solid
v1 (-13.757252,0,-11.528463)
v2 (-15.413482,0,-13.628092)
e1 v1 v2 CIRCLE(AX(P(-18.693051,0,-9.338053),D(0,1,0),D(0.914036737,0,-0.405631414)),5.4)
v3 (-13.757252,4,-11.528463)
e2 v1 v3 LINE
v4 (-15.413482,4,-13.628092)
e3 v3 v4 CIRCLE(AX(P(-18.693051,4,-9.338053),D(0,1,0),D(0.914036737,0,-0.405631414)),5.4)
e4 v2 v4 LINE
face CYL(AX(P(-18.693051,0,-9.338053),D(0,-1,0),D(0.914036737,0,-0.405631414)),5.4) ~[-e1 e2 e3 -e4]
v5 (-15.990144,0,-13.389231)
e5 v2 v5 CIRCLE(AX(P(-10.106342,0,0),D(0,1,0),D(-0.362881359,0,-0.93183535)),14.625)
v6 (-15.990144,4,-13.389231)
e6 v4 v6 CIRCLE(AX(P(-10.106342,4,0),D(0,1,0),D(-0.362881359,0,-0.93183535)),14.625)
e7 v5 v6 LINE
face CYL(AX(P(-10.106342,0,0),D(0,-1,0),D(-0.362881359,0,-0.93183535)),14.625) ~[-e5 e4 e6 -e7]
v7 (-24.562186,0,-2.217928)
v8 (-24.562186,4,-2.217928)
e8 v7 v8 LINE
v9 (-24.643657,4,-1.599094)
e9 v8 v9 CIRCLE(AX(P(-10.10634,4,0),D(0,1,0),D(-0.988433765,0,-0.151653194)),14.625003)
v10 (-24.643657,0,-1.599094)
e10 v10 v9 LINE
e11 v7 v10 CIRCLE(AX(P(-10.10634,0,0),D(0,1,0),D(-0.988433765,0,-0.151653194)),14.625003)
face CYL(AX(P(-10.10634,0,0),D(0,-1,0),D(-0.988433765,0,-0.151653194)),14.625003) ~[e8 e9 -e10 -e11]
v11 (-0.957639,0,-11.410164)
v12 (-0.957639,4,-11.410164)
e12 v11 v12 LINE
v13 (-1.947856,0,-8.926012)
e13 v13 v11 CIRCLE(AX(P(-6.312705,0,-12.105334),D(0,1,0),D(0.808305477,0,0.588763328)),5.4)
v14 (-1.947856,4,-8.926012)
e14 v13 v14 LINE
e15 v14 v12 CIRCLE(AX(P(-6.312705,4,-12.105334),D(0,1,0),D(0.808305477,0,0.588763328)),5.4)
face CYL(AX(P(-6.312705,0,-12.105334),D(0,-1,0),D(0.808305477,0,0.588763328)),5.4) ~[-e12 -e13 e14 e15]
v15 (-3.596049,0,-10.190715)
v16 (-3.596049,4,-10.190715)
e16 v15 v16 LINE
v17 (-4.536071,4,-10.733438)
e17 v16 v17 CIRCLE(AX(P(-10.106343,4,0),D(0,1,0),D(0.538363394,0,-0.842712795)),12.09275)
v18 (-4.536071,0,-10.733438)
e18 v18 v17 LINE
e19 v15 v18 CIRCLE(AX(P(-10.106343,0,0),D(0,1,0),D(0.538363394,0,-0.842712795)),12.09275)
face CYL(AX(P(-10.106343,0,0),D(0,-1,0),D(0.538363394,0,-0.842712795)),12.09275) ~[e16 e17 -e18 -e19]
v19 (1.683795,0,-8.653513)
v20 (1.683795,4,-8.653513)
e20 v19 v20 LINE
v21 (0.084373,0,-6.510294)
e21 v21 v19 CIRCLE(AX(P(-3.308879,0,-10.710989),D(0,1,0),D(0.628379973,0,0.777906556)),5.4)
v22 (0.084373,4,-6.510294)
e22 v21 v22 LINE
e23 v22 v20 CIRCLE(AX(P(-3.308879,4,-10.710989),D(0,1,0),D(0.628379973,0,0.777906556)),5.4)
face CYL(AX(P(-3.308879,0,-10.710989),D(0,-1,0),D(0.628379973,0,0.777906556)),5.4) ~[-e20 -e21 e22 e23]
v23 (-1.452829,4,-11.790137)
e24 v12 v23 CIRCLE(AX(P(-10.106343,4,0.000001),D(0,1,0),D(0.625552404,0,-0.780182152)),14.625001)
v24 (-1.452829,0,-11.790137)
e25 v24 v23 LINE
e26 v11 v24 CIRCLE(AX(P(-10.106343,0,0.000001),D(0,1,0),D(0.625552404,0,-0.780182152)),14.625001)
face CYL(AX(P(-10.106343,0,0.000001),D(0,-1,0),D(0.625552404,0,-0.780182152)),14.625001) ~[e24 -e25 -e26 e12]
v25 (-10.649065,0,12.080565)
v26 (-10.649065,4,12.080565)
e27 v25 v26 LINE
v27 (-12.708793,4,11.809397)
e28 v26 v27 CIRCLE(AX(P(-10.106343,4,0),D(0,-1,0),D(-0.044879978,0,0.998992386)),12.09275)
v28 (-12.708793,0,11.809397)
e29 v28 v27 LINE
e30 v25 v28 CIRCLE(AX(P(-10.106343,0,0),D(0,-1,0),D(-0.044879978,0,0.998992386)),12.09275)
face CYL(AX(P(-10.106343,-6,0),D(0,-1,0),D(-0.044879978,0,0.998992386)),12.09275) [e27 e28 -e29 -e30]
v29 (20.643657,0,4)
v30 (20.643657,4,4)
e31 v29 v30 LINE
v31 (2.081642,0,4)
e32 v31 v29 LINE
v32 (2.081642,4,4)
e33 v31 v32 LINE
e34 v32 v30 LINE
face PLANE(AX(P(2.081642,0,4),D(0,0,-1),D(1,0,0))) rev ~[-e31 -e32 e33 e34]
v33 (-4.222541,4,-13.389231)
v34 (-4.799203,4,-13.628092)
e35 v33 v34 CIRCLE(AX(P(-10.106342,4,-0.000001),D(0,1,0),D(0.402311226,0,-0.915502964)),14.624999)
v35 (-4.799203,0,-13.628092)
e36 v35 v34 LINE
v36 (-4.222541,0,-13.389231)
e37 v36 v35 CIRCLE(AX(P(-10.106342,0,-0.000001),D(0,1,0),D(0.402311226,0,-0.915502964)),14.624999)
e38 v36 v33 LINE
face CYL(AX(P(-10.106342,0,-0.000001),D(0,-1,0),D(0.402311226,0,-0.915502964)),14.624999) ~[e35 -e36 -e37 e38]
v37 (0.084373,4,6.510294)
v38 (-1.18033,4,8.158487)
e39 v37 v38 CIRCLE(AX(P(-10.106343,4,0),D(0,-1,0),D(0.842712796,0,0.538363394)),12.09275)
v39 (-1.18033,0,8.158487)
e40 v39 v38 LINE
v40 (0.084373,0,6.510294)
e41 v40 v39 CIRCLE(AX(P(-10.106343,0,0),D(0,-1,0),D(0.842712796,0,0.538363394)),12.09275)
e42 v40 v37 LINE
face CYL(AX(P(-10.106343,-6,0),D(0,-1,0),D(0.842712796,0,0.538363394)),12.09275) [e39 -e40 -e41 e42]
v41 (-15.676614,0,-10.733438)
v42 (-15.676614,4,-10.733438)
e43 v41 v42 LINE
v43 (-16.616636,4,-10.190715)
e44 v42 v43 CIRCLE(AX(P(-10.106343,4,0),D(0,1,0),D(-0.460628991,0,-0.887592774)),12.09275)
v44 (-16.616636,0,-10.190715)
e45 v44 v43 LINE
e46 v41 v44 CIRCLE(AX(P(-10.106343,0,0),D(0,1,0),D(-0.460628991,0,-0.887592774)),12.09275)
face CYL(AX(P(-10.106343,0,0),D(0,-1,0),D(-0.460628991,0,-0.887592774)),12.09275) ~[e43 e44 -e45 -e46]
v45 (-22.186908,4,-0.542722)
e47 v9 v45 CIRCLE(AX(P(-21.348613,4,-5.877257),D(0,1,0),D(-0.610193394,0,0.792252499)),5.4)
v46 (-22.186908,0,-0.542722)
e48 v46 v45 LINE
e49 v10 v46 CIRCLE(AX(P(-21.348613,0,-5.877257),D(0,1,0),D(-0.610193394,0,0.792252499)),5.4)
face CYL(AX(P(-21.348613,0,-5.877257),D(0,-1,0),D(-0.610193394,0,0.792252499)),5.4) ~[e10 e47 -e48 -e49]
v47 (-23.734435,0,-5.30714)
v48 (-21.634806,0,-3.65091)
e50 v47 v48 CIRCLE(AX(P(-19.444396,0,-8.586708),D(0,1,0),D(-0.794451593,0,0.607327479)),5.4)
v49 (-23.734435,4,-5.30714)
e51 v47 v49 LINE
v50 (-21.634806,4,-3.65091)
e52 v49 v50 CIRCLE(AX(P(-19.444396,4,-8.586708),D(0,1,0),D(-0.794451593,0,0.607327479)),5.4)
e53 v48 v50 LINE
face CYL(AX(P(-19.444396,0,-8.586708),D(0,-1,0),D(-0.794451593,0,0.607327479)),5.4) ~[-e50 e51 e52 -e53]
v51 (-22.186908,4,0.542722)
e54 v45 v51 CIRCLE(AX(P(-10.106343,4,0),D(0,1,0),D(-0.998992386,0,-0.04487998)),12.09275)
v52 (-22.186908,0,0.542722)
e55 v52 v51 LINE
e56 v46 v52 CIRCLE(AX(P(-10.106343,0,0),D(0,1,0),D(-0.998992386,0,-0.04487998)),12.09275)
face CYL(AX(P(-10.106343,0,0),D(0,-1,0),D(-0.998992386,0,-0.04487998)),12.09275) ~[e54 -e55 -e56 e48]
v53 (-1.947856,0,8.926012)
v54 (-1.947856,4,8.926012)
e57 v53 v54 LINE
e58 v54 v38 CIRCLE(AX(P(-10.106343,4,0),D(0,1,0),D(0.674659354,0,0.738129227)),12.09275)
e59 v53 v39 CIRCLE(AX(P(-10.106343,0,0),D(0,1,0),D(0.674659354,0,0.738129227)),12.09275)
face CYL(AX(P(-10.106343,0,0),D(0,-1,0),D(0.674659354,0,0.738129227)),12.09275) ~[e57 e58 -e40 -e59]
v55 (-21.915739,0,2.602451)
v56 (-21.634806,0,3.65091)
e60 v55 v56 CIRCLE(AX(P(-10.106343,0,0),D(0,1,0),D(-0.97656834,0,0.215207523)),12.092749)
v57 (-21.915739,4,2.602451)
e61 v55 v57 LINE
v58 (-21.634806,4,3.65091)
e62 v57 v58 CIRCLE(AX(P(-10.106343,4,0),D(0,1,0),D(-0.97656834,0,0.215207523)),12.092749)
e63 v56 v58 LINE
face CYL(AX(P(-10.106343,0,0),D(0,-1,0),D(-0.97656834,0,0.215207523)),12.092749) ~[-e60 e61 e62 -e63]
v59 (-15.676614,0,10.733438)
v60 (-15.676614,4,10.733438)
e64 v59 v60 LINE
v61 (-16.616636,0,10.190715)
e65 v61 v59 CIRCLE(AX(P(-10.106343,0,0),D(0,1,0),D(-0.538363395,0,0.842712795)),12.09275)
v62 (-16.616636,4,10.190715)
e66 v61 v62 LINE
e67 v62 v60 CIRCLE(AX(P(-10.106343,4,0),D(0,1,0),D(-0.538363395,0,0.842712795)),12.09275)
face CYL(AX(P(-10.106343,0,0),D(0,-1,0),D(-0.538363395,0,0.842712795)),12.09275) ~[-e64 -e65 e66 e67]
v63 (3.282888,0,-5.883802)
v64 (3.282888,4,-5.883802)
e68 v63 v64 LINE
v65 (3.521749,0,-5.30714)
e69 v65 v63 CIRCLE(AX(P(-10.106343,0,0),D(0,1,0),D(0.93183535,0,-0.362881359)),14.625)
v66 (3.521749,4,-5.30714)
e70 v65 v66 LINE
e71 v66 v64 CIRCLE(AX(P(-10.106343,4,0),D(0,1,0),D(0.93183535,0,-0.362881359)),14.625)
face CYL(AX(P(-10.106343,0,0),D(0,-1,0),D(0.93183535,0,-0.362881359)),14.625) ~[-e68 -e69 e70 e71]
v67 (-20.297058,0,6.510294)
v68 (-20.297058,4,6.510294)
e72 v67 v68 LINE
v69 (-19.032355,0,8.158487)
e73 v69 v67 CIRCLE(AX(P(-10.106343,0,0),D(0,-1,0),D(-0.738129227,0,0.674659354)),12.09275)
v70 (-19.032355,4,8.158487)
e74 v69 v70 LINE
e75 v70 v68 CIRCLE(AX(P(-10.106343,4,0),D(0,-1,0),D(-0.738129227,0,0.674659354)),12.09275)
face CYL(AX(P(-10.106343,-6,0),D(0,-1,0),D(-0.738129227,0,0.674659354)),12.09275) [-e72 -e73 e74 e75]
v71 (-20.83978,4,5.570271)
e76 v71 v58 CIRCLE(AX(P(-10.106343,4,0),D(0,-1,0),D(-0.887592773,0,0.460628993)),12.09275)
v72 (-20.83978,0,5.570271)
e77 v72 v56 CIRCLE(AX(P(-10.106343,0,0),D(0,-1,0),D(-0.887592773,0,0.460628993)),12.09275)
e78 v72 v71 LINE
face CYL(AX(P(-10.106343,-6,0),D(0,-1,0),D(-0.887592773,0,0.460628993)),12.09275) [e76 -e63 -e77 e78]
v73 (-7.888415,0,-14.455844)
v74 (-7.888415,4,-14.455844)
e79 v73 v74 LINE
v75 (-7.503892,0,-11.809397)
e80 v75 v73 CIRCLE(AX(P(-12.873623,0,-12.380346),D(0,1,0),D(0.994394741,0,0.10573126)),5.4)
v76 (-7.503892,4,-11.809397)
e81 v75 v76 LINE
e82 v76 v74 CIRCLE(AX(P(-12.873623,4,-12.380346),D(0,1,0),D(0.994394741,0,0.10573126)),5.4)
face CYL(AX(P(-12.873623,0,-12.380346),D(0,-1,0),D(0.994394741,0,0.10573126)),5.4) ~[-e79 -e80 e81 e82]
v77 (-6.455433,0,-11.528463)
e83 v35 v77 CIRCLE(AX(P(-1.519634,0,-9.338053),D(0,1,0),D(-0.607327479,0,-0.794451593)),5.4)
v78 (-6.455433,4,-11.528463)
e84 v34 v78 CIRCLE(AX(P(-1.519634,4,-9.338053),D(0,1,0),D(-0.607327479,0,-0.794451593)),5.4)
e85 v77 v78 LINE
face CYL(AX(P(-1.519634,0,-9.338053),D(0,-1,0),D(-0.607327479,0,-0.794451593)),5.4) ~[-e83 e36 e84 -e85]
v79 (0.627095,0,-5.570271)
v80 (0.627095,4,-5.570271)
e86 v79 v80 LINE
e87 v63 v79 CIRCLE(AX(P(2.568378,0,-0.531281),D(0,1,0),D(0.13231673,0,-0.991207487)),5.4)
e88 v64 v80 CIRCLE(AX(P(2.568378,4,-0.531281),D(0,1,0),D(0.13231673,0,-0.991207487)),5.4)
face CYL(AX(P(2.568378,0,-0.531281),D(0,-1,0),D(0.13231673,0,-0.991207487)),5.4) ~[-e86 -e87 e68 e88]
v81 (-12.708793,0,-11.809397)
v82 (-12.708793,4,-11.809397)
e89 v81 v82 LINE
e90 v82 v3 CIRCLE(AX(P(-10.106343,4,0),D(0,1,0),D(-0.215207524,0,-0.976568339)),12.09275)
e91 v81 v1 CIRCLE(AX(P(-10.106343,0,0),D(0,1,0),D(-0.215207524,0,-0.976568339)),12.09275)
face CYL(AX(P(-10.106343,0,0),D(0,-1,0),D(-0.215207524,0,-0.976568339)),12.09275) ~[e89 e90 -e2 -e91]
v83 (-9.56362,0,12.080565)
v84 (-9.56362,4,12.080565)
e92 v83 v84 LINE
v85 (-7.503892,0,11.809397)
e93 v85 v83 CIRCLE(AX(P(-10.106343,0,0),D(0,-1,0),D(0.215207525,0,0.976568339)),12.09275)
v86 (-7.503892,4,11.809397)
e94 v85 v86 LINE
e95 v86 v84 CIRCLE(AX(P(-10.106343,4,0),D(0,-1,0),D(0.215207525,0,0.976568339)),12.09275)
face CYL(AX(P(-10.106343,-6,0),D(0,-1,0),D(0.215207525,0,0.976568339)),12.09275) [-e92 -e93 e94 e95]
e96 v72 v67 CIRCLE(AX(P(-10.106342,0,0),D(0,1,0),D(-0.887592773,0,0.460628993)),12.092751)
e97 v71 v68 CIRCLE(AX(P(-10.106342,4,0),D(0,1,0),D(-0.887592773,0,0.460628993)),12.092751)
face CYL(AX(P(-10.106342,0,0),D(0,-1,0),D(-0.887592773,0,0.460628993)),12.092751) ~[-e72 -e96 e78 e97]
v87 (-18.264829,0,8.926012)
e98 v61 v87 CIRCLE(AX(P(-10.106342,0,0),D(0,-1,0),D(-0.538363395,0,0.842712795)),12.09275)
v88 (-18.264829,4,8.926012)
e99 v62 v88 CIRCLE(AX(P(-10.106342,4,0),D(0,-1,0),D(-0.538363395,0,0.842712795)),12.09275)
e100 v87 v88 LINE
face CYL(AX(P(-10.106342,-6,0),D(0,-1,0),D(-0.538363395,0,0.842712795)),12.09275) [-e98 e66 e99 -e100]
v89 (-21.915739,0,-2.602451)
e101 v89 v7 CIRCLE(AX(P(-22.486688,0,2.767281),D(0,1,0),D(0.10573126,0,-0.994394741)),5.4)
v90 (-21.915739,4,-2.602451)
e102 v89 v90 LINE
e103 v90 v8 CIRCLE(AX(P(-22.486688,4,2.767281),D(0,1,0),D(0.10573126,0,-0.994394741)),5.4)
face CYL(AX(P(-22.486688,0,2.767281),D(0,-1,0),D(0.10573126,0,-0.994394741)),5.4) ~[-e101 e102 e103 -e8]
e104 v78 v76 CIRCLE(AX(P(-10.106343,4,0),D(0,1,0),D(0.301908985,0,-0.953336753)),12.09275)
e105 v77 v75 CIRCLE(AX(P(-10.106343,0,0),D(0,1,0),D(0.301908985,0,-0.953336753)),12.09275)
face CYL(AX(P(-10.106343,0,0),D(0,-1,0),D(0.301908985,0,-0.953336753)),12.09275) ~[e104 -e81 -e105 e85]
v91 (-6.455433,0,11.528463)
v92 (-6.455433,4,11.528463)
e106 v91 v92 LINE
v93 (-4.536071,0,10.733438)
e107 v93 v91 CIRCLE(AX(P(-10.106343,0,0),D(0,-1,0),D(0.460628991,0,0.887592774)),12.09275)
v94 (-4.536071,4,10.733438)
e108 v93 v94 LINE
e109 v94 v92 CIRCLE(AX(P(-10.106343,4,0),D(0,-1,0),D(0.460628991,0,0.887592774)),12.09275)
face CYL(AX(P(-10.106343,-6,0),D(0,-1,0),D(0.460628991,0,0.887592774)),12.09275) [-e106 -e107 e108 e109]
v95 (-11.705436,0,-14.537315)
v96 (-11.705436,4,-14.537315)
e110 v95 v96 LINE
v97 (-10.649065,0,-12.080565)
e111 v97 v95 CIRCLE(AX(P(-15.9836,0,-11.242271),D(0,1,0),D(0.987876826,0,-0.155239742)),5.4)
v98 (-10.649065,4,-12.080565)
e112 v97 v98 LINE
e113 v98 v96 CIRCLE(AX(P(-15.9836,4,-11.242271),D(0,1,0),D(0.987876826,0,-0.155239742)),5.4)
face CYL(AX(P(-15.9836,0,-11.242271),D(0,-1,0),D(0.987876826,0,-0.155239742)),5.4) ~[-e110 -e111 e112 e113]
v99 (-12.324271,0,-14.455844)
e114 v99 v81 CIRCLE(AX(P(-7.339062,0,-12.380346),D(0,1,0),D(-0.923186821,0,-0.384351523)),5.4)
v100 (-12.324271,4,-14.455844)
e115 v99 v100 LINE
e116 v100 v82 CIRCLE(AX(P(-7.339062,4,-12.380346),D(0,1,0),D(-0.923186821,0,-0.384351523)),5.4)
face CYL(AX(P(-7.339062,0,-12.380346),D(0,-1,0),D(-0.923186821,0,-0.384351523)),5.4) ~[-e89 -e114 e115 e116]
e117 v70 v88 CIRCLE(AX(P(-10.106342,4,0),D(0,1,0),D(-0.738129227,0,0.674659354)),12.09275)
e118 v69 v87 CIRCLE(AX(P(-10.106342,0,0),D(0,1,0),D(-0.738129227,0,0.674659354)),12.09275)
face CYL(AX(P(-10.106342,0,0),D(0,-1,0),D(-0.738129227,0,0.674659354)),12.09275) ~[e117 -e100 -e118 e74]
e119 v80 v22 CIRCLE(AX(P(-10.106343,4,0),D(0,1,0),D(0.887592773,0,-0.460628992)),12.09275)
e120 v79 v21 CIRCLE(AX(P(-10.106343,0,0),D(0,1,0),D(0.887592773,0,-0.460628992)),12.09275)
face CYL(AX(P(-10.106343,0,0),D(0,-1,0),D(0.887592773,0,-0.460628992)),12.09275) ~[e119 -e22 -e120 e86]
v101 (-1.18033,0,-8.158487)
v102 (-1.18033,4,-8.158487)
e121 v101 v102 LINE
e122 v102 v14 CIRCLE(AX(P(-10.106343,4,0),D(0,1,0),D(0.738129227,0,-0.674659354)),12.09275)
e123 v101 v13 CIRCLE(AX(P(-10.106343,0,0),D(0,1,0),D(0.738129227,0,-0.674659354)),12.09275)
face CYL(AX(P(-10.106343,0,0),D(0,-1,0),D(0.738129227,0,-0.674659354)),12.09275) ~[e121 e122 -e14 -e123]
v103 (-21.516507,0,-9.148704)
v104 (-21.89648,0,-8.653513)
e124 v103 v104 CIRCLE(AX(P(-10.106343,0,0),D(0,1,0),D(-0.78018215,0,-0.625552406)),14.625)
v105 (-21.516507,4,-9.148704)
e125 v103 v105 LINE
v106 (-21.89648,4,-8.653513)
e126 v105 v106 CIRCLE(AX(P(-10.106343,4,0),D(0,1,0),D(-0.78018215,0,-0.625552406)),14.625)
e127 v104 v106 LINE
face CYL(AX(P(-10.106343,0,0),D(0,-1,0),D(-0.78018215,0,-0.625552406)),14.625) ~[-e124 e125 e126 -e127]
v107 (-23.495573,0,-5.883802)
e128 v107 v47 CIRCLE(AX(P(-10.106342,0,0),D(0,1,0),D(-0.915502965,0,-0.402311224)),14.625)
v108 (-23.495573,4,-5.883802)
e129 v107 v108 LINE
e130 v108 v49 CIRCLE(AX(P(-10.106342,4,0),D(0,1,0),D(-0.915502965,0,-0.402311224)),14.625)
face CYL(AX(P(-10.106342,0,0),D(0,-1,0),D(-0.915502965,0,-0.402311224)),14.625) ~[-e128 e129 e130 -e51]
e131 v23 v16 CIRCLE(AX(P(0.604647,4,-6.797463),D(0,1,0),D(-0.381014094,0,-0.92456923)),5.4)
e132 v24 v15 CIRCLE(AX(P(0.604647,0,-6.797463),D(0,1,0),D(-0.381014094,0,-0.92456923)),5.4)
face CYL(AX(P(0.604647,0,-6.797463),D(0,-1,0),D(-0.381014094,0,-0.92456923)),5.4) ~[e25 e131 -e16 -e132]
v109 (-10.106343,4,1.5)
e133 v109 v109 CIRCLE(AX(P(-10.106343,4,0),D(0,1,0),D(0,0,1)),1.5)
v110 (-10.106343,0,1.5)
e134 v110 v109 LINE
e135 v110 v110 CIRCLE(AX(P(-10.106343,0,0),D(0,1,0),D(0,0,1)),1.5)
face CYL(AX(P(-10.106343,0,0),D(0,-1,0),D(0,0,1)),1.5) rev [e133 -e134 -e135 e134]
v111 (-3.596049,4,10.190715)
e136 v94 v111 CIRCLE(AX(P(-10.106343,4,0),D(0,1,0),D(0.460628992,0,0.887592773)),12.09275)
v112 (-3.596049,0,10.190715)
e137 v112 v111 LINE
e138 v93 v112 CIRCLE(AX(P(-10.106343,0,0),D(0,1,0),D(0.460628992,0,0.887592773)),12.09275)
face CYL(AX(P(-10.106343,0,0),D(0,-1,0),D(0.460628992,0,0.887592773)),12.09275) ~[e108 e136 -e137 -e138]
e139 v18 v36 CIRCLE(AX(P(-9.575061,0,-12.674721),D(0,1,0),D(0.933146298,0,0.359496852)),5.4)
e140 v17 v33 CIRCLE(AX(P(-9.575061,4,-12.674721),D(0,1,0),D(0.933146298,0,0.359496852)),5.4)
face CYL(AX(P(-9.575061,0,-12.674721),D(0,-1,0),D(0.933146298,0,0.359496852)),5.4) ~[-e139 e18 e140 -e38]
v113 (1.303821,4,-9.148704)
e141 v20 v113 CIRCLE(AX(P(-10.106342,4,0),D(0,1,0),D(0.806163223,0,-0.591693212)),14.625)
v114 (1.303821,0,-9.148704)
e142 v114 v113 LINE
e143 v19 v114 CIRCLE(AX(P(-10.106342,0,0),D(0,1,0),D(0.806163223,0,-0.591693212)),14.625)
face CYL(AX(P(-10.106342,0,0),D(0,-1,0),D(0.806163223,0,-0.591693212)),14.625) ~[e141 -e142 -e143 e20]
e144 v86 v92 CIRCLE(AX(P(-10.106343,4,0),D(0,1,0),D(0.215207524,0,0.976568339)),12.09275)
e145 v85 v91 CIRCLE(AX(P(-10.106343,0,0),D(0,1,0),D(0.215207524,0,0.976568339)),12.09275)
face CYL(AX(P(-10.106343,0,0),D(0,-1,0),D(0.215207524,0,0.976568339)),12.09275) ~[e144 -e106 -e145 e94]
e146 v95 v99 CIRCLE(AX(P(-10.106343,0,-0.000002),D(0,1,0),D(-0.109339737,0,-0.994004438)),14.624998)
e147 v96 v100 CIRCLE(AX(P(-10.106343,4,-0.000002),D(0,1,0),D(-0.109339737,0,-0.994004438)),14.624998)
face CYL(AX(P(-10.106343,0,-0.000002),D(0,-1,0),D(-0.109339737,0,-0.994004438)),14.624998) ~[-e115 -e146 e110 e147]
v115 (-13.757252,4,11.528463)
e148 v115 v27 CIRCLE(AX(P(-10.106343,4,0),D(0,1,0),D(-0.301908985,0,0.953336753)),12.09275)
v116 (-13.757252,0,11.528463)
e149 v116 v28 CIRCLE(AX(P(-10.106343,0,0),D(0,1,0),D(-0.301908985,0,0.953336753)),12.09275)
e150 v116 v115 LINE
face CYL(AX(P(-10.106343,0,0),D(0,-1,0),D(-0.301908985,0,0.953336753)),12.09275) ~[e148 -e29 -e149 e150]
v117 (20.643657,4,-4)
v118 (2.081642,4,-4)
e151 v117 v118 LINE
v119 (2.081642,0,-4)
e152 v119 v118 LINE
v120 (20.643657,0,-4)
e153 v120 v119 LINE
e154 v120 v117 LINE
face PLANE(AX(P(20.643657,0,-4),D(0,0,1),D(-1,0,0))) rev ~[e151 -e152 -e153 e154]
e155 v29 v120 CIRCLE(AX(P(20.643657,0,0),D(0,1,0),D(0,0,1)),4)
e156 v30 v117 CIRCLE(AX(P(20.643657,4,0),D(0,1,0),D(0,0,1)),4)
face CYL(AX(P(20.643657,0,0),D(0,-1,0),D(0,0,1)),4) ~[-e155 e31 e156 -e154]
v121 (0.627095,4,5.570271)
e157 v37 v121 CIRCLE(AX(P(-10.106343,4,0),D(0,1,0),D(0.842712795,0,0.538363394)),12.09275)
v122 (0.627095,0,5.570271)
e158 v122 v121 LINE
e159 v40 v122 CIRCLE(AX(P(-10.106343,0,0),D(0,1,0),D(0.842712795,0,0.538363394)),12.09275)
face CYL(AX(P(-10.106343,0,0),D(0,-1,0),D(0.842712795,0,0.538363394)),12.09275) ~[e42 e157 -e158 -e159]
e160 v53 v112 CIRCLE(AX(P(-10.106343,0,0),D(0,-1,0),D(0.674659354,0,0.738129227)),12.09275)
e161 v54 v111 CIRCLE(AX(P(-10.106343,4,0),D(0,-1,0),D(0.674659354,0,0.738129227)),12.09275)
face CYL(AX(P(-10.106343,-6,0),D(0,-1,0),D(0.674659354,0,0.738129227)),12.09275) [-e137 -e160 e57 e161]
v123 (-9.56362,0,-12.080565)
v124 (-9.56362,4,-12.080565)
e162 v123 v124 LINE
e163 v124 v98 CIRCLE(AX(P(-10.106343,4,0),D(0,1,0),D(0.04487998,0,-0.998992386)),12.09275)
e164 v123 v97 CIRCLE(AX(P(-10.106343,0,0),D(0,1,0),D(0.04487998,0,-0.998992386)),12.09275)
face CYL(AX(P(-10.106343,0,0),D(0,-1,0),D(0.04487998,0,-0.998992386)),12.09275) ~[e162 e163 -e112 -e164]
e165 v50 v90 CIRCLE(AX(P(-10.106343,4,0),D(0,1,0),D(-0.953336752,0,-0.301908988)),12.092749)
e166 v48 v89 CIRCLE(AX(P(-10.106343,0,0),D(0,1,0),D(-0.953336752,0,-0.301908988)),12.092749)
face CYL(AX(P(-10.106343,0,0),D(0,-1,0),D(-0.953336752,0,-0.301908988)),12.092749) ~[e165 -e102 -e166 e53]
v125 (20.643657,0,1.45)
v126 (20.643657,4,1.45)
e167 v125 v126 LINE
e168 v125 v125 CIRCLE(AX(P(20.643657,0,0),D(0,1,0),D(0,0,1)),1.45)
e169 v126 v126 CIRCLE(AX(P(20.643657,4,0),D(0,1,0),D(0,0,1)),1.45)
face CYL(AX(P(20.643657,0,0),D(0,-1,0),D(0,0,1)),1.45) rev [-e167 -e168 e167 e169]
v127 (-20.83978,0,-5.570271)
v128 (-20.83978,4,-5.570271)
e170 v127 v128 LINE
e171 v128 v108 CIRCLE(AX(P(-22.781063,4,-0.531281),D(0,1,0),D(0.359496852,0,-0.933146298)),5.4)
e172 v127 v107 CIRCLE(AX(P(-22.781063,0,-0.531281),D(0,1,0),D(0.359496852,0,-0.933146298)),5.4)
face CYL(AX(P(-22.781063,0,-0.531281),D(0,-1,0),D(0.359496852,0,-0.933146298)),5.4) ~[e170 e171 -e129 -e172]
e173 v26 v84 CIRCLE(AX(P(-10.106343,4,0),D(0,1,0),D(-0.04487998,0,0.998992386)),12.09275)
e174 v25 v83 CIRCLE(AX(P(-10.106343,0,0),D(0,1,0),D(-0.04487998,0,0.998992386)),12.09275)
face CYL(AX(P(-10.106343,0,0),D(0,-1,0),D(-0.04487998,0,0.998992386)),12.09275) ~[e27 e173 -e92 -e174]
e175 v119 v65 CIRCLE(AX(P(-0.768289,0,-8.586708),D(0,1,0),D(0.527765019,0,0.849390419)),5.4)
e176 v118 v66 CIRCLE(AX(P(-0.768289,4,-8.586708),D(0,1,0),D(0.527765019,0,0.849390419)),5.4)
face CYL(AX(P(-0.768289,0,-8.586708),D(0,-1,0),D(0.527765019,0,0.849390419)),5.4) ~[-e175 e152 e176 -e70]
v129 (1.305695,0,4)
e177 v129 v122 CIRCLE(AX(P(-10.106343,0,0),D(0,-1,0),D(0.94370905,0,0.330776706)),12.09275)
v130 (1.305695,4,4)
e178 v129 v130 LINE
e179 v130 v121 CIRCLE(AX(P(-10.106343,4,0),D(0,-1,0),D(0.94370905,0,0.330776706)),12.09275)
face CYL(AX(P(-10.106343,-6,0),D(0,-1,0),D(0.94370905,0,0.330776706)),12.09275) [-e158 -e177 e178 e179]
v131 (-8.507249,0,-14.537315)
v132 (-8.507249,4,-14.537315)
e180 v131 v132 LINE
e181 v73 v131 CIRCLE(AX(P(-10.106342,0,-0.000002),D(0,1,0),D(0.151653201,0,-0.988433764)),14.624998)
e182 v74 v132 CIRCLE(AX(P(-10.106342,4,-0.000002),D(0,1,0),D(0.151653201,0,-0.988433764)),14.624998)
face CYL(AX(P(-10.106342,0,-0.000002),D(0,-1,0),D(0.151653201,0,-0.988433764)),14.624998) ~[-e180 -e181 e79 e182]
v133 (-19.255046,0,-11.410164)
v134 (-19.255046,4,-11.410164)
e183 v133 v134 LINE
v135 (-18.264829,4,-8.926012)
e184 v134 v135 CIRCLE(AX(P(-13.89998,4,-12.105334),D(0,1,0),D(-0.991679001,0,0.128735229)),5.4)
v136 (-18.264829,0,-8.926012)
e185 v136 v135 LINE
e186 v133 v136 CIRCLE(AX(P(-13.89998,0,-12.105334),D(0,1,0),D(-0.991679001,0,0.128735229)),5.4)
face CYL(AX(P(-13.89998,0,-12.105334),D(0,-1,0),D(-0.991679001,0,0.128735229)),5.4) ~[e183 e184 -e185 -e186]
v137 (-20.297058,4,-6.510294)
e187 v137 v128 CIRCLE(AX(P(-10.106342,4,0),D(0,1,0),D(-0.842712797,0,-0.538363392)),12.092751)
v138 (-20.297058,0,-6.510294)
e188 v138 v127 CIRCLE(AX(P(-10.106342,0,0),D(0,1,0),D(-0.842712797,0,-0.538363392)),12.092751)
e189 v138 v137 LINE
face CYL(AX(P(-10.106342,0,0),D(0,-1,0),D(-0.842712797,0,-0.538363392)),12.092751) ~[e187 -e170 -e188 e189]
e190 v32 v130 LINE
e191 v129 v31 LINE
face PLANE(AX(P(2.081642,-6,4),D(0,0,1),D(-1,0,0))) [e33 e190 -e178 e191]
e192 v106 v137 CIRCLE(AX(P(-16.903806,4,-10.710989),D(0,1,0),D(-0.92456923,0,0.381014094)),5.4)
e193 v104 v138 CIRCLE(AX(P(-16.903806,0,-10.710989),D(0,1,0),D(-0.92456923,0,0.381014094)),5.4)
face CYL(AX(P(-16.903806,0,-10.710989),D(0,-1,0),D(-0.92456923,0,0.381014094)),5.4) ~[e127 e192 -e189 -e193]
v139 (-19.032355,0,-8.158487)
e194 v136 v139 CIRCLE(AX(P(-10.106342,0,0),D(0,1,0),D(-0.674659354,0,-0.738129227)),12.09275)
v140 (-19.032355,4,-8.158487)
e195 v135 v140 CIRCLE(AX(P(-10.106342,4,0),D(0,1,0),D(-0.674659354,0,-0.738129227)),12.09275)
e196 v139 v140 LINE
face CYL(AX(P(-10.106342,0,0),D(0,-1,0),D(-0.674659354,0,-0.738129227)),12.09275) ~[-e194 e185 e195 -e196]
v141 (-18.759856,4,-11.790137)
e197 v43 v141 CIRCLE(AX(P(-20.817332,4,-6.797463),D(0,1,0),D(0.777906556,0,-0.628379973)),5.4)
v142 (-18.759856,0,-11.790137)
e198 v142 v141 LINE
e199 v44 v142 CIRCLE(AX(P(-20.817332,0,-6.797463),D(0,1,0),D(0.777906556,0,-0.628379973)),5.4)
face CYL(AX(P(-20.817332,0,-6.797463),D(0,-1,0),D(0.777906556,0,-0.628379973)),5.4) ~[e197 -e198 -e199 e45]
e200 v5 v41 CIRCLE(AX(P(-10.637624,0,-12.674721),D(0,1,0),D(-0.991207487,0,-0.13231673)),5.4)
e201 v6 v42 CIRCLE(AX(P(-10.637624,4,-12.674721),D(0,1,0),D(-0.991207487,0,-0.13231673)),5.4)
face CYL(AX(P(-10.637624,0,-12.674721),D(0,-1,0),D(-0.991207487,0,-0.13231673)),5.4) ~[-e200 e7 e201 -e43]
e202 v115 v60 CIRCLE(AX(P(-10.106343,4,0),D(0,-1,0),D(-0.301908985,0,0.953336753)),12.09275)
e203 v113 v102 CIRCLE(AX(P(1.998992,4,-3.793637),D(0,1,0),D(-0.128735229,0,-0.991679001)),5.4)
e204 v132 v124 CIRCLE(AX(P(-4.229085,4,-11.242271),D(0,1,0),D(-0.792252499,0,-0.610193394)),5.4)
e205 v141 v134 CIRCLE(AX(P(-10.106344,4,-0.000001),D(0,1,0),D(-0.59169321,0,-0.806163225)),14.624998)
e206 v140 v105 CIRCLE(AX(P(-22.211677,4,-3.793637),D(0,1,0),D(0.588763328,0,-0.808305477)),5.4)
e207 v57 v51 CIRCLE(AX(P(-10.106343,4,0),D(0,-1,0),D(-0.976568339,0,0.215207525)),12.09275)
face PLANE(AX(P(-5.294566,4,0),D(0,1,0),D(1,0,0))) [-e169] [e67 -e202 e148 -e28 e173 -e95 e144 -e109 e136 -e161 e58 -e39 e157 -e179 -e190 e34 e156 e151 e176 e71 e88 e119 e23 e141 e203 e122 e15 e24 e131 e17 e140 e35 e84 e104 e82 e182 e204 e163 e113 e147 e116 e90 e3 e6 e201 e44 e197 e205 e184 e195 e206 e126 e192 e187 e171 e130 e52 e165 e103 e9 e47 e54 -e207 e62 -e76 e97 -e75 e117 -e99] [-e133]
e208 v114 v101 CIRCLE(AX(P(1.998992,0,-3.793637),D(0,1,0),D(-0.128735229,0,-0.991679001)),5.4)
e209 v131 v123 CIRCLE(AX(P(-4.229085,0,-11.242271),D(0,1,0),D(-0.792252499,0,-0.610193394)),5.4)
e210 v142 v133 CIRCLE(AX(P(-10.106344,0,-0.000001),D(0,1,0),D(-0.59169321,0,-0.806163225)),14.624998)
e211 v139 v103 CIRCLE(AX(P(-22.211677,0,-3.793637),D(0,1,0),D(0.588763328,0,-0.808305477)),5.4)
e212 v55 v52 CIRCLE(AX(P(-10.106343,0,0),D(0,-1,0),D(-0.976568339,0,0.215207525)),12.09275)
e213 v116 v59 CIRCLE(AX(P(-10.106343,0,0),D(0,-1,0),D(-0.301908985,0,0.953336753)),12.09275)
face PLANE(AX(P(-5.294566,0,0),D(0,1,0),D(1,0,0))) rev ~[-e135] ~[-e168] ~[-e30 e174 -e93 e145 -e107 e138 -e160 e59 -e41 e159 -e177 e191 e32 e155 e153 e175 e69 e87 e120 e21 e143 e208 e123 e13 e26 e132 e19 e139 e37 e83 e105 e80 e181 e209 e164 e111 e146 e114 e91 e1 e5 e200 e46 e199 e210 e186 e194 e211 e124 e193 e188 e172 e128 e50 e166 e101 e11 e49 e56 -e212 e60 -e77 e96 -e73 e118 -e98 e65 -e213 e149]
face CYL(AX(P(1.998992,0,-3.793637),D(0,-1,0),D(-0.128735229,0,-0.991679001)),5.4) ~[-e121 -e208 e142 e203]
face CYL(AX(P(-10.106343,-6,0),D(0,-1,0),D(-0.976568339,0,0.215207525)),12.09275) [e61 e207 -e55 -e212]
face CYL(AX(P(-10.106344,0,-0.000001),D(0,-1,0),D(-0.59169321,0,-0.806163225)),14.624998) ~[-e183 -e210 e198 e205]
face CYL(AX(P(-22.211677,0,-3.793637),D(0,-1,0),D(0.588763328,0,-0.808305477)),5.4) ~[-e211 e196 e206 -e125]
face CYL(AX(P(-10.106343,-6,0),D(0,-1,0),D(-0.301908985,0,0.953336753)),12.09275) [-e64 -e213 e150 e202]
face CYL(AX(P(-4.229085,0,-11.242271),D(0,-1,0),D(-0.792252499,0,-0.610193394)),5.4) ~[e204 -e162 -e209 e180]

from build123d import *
from build123d.topology import SkipClean

# Parameters (mm, degrees)
SKETCH1_R           = 1.5
SKETCH1_R_2         = 1.45
BOSS_EXTRUDE1_DEPTH = 4
CUT_EXTRUDE1_START  = -10
CUT_EXTRUDE1_DEPTH  = 10


with BuildPart() as part:
    # Sketch1 → Boss-Extrude1 (new body)
    with BuildSketch(Plane(origin=(0, 0, 0), x_dir=(1, 0, 0), z_dir=(0, 1, 0))):
        with BuildLine():
            Line((20.643657446, 4), (2.081641936, 4))
            ThreePointArc((2.081641936, 4), (2.861028333, 4.588201733), (3.521749436, 5.30713988))
            ThreePointArc((3.521749436, 5.30713988), (3.405395609, 5.596745198), (3.282888305, 5.883801663))
            ThreePointArc((3.282888305, 5.883801663), (1.93527598, 5.894040025), (0.627094961, 5.57027124))
            ThreePointArc((0.627094961, 5.57027124), (0.366286148, 6.046375), (0.084372603, 6.510293938))
            ThreePointArc((0.084372603, 6.510293938), (1.018855105, 7.48132754), (1.683794586, 8.65351323))
            ThreePointArc((1.683794586, 8.65351323), (1.496450048, 8.903135899), (1.303821399, 9.148703928))
            ThreePointArc((1.303821399, 9.148703928), (-0.000522033, 8.809805691), (-1.180330337, 8.158486898))
            ThreePointArc((-1.180330337, 8.158486898), (-1.555477026, 8.550865528), (-1.947855656, 8.926012217))
            ThreePointArc((-1.947855656, 8.926012217), (-1.296536862, 10.105820521), (-0.957638625, 11.410163953))
            ThreePointArc((-0.957638625, 11.410163953), (-1.203206655, 11.602792602), (-1.452829324, 11.79013714))
            ThreePointArc((-1.452829324, 11.79013714), (-2.625015014, 11.125197659), (-3.596048616, 10.190715157))
            ThreePointArc((-3.596048616, 10.190715157), (-4.059967554, 10.472628702), (-4.536071314, 10.733437515))
            ThreePointArc((-4.536071314, 10.733437515), (-4.212302529, 12.041618533), (-4.222540891, 13.389230859))
            ThreePointArc((-4.222540891, 13.389230859), (-4.509597355, 13.511738163), (-4.799202674, 13.62809199))
            ThreePointArc((-4.799202674, 13.62809199), (-5.759348103, 12.682425791), (-6.455432668, 11.528463019))
            ThreePointArc((-6.455432668, 11.528463019), (-6.976508546, 11.680699536), (-7.503891752, 11.809396783))
            ThreePointArc((-7.503891752, 11.809396783), (-7.529737283, 13.156800143), (-7.888414517, 14.455843809))
            ThreePointArc((-7.888414517, 14.455843809), (-8.197396993, 14.499881098), (-8.507248835, 14.537314892))
            ThreePointArc((-8.507248835, 14.537314892), (-9.18992168, 13.375367565), (-9.563620196, 12.080565177))
            ThreePointArc((-9.563620196, 12.080565177), (-10.106342554, 12.09275), (-10.649064912, 12.080565177))
            ThreePointArc((-10.649064912, 12.080565177), (-11.022763428, 13.375367565), (-11.705436272, 14.537314892))
            ThreePointArc((-11.705436272, 14.537314892), (-12.015288115, 14.499881098), (-12.324270591, 14.455843809))
            ThreePointArc((-12.324270591, 14.455843809), (-12.682947825, 13.156800143), (-12.708793355, 11.809396783))
            ThreePointArc((-12.708793355, 11.809396783), (-13.236176561, 11.680699536), (-13.757252439, 11.528463019))
            ThreePointArc((-13.757252439, 11.528463019), (-14.453337005, 12.682425791), (-15.413482434, 13.62809199))
            ThreePointArc((-15.413482434, 13.62809199), (-15.703087752, 13.511738163), (-15.990144217, 13.389230859))
            ThreePointArc((-15.990144217, 13.389230859), (-16.000382579, 12.041618533), (-15.676613793, 10.733437515))
            ThreePointArc((-15.676613793, 10.733437515), (-16.152717554, 10.472628702), (-16.616636492, 10.190715157))
            ThreePointArc((-16.616636492, 10.190715157), (-17.587670094, 11.125197659), (-18.759855783, 11.79013714))
            ThreePointArc((-18.759855783, 11.79013714), (-19.009478453, 11.602792602), (-19.255046482, 11.410163953))
            ThreePointArc((-19.255046482, 11.410163953), (-18.916148245, 10.105820521), (-18.264829452, 8.926012217))
            ThreePointArc((-18.264829452, 8.926012217), (-18.657208082, 8.550865528), (-19.032354771, 8.158486898))
            ThreePointArc((-19.032354771, 8.158486898), (-20.212163074, 8.809805691), (-21.516506507, 9.148703928))
            ThreePointArc((-21.516506507, 9.148703928), (-21.709135156, 8.903135899), (-21.896479694, 8.65351323))
            ThreePointArc((-21.896479694, 8.65351323), (-21.231540213, 7.48132754), (-20.297057711, 6.510293938))
            ThreePointArc((-20.297057711, 6.510293938), (-20.578971255, 6.046375), (-20.839780068, 5.57027124))
            ThreePointArc((-20.839780068, 5.57027124), (-22.147961087, 5.894040025), (-23.495573413, 5.883801663))
            ThreePointArc((-23.495573413, 5.883801663), (-23.618080717, 5.596745198), (-23.734434544, 5.30713988))
            ThreePointArc((-23.734434544, 5.30713988), (-22.788768345, 4.346994451), (-21.634805572, 3.650909885))
            ThreePointArc((-21.634805572, 3.650909885), (-21.78704209, 3.129834008), (-21.915739337, 2.602450802))
            ThreePointArc((-21.915739337, 2.602450802), (-23.263142697, 2.576605271), (-24.562186363, 2.217928037))
            ThreePointArc((-24.562186363, 2.217928037), (-24.606223651, 1.908945561), (-24.643657446, 1.599093719))
            ThreePointArc((-24.643657446, 1.599093719), (-23.481710119, 0.916420874), (-22.186907731, 0.542722358))
            ThreePointArc((-22.186907731, 0.542722358), (-22.199092554, 0), (-22.186907731, -0.542722358))
            ThreePointArc((-22.186907731, -0.542722358), (-23.481710119, -0.916420874), (-24.643657446, -1.599093719))
            ThreePointArc((-24.643657446, -1.599093719), (-24.606223651, -1.908945561), (-24.562186363, -2.217928037))
            ThreePointArc((-24.562186363, -2.217928037), (-23.263142697, -2.576605271), (-21.915739337, -2.602450802))
            ThreePointArc((-21.915739337, -2.602450802), (-21.78704209, -3.129834008), (-21.634805572, -3.650909885))
            ThreePointArc((-21.634805572, -3.650909885), (-22.788768345, -4.346994451), (-23.734434544, -5.30713988))
            ThreePointArc((-23.734434544, -5.30713988), (-23.618080717, -5.596745198), (-23.495573413, -5.883801663))
            ThreePointArc((-23.495573413, -5.883801663), (-22.147961087, -5.894040025), (-20.839780068, -5.57027124))
            ThreePointArc((-20.839780068, -5.57027124), (-20.578971255, -6.046375), (-20.297057711, -6.510293938))
            ThreePointArc((-20.297057711, -6.510293938), (-21.231540213, -7.48132754), (-21.896479694, -8.65351323))
            ThreePointArc((-21.896479694, -8.65351323), (-21.709135156, -8.903135899), (-21.516506507, -9.148703928))
            ThreePointArc((-21.516506507, -9.148703928), (-20.212163074, -8.809805691), (-19.032354771, -8.158486898))
            ThreePointArc((-19.032354771, -8.158486898), (-18.657208082, -8.550865528), (-18.264829452, -8.926012217))
            ThreePointArc((-18.264829452, -8.926012217), (-18.916148245, -10.105820521), (-19.255046482, -11.410163953))
            ThreePointArc((-19.255046482, -11.410163953), (-19.009478453, -11.602792602), (-18.759855783, -11.79013714))
            ThreePointArc((-18.759855783, -11.79013714), (-17.587670094, -11.125197659), (-16.616636492, -10.190715157))
            ThreePointArc((-16.616636492, -10.190715157), (-16.152717554, -10.472628702), (-15.676613793, -10.733437515))
            ThreePointArc((-15.676613793, -10.733437515), (-16.000382579, -12.041618533), (-15.990144217, -13.389230859))
            ThreePointArc((-15.990144217, -13.389230859), (-15.703087752, -13.511738163), (-15.413482434, -13.62809199))
            ThreePointArc((-15.413482434, -13.62809199), (-14.453337005, -12.682425791), (-13.757252439, -11.528463019))
            ThreePointArc((-13.757252439, -11.528463019), (-13.236176561, -11.680699536), (-12.708793355, -11.809396783))
            ThreePointArc((-12.708793355, -11.809396783), (-12.682947825, -13.156800143), (-12.324270591, -14.455843809))
            ThreePointArc((-12.324270591, -14.455843809), (-12.015288115, -14.499881098), (-11.705436272, -14.537314892))
            ThreePointArc((-11.705436272, -14.537314892), (-11.022763428, -13.375367565), (-10.649064912, -12.080565177))
            ThreePointArc((-10.649064912, -12.080565177), (-10.106342554, -12.09275), (-9.563620196, -12.080565177))
            ThreePointArc((-9.563620196, -12.080565177), (-9.18992168, -13.375367565), (-8.507248835, -14.537314892))
            ThreePointArc((-8.507248835, -14.537314892), (-8.197396993, -14.499881098), (-7.888414517, -14.455843809))
            ThreePointArc((-7.888414517, -14.455843809), (-7.529737283, -13.156800143), (-7.503891752, -11.809396783))
            ThreePointArc((-7.503891752, -11.809396783), (-6.976508546, -11.680699536), (-6.455432668, -11.528463019))
            ThreePointArc((-6.455432668, -11.528463019), (-5.759348103, -12.682425791), (-4.799202674, -13.62809199))
            ThreePointArc((-4.799202674, -13.62809199), (-4.509597355, -13.511738163), (-4.222540891, -13.389230859))
            ThreePointArc((-4.222540891, -13.389230859), (-4.212302529, -12.041618533), (-4.536071314, -10.733437515))
            ThreePointArc((-4.536071314, -10.733437515), (-4.059967554, -10.472628702), (-3.596048616, -10.190715157))
            ThreePointArc((-3.596048616, -10.190715157), (-2.625015014, -11.125197659), (-1.452829324, -11.79013714))
            ThreePointArc((-1.452829324, -11.79013714), (-1.203206655, -11.602792602), (-0.957638625, -11.410163953))
            ThreePointArc((-0.957638625, -11.410163953), (-1.296536862, -10.105820521), (-1.947855656, -8.926012217))
            ThreePointArc((-1.947855656, -8.926012217), (-1.555477026, -8.550865528), (-1.180330337, -8.158486898))
            ThreePointArc((-1.180330337, -8.158486898), (-0.000522033, -8.809805691), (1.303821399, -9.148703928))
            ThreePointArc((1.303821399, -9.148703928), (1.496450048, -8.903135899), (1.683794586, -8.65351323))
            ThreePointArc((1.683794586, -8.65351323), (1.018855105, -7.48132754), (0.084372603, -6.510293938))
            ThreePointArc((0.084372603, -6.510293938), (0.366286148, -6.046375), (0.627094961, -5.57027124))
            ThreePointArc((0.627094961, -5.57027124), (1.93527598, -5.894040025), (3.282888305, -5.883801663))
            ThreePointArc((3.282888305, -5.883801663), (3.405395609, -5.596745198), (3.521749436, -5.30713988))
            ThreePointArc((3.521749436, -5.30713988), (2.861028333, -4.588201733), (2.081641936, -4))
            Line((2.081641936, -4), (20.643657446, -4))
            ThreePointArc((20.643657446, -4), (24.643657446, 0), (20.643657446, 4))
        make_face()
        with Locations(Location((-10.106342554, 0, 0), (0, 0, 270))):
            Circle(SKETCH1_R, mode=Mode.SUBTRACT)
        with Locations(Location((20.643657446, 0, 0), (0, 0, 270))):
            Circle(SKETCH1_R_2, mode=Mode.SUBTRACT)
    extrude(amount=BOSS_EXTRUDE1_DEPTH)

    # Sketch2 → Cut-Extrude1 (cut)
    with SkipClean():  # the faces are left unmerged after this step: merging them gives an invalid solid
        with BuildSketch(Plane(origin=(0, 4, 0), x_dir=(1, 0, 0), z_dir=(0, 1, 0)).offset(CUT_EXTRUDE1_START)):
            with BuildLine():
                ThreePointArc((-24.562186363, -2.217928037), (-23.263142697, -2.576605271), (-21.915739337, -2.602450802))
                ThreePointArc((-21.915739337, -2.602450802), (-22.095637401, -1.578420611), (-22.186907731, -0.542722358))
                ThreePointArc((-22.186907731, -0.542722358), (-23.481710119, -0.916420874), (-24.643657446, -1.599093719))
                ThreePointArc((-24.643657446, -1.599093719), (-24.606223651, -1.908945561), (-24.562186363, -2.217928037))
            make_face()
            with BuildLine():
                ThreePointArc((-23.495573413, -5.883801663), (-22.147961087, -5.894040025), (-20.839780068, -5.57027124))
                ThreePointArc((-20.839780068, -5.57027124), (-21.278586771, -4.627695077), (-21.634805572, -3.650909885))
                ThreePointArc((-21.634805572, -3.650909885), (-22.788768345, -4.346994451), (-23.734434544, -5.30713988))
                ThreePointArc((-23.734434544, -5.30713988), (-23.618080717, -5.596745198), (-23.495573413, -5.883801663))
            make_face()
            with BuildLine():
                ThreePointArc((-21.516506507, -9.148703928), (-20.212163074, -8.809805691), (-19.032354771, -8.158486898))
                ThreePointArc((-19.032354771, -8.158486898), (-19.70016616, -7.361599771), (-20.297057711, -6.510293938))
                ThreePointArc((-20.297057711, -6.510293938), (-21.231540213, -7.48132754), (-21.896479694, -8.65351323))
                ThreePointArc((-21.896479694, -8.65351323), (-21.709135156, -8.903135899), (-21.516506507, -9.148703928))
            make_face()
            with BuildLine():
                ThreePointArc((-18.759855783, -11.79013714), (-17.587670094, -11.125197659), (-16.616636492, -10.190715157))
                ThreePointArc((-16.616636492, -10.190715157), (-17.467942324, -9.593823606), (-18.264829452, -8.926012217))
                ThreePointArc((-18.264829452, -8.926012217), (-18.916148245, -10.105820521), (-19.255046482, -11.410163953))
                ThreePointArc((-19.255046482, -11.410163953), (-19.009478453, -11.602792602), (-18.759855783, -11.79013714))
            make_face()
            with BuildLine():
                ThreePointArc((-15.413482434, -13.62809199), (-14.453337005, -12.682425791), (-13.757252439, -11.528463019))
                ThreePointArc((-13.757252439, -11.528463019), (-14.734037631, -11.172244217), (-15.676613793, -10.733437515))
                ThreePointArc((-15.676613793, -10.733437515), (-16.000382579, -12.041618533), (-15.990144217, -13.389230859))
                ThreePointArc((-15.990144217, -13.389230859), (-15.703087752, -13.511738163), (-15.413482434, -13.62809199))
            make_face()
            with BuildLine():
                ThreePointArc((-11.705436272, -14.537314892), (-11.022763428, -13.375367565), (-10.649064912, -12.080565177))
                ThreePointArc((-10.649064912, -12.080565177), (-11.684763165, -11.989294847), (-12.708793355, -11.809396783))
                ThreePointArc((-12.708793355, -11.809396783), (-12.682947825, -13.156800143), (-12.324270591, -14.455843809))
                ThreePointArc((-12.324270591, -14.455843809), (-12.015288115, -14.499881098), (-11.705436272, -14.537314892))
            make_face()
            with BuildLine():
                ThreePointArc((-7.888414517, -14.455843809), (-7.529737283, -13.156800143), (-7.503891752, -11.809396783))
                ThreePointArc((-7.503891752, -11.809396783), (-8.527921943, -11.989294847), (-9.563620196, -12.080565177))
                ThreePointArc((-9.563620196, -12.080565177), (-9.18992168, -13.375367565), (-8.507248835, -14.537314892))
                ThreePointArc((-8.507248835, -14.537314892), (-8.197396993, -14.499881098), (-7.888414517, -14.455843809))
            make_face()
            with BuildLine():
                ThreePointArc((-4.222540891, -13.389230859), (-4.212302529, -12.041618533), (-4.536071314, -10.733437515))
                ThreePointArc((-4.536071314, -10.733437515), (-5.478647477, -11.172244217), (-6.455432668, -11.528463019))
                ThreePointArc((-6.455432668, -11.528463019), (-5.759348103, -12.682425791), (-4.799202674, -13.62809199))
                ThreePointArc((-4.799202674, -13.62809199), (-4.509597355, -13.511738163), (-4.222540891, -13.389230859))
            make_face()
            with BuildLine():
                ThreePointArc((-0.957638625, -11.410163953), (-1.296536862, -10.105820521), (-1.947855656, -8.926012217))
                ThreePointArc((-1.947855656, -8.926012217), (-2.744742783, -9.593823606), (-3.596048616, -10.190715157))
                ThreePointArc((-3.596048616, -10.190715157), (-2.625015014, -11.125197659), (-1.452829324, -11.79013714))
                ThreePointArc((-1.452829324, -11.79013714), (-1.203206655, -11.602792602), (-0.957638625, -11.410163953))
            make_face()
            with BuildLine():
                ThreePointArc((1.683794586, -8.65351323), (1.018855105, -7.48132754), (0.084372603, -6.510293938))
                ThreePointArc((0.084372603, -6.510293938), (-0.512518948, -7.361599771), (-1.180330337, -8.158486898))
                ThreePointArc((-1.180330337, -8.158486898), (-0.000522033, -8.809805691), (1.303821399, -9.148703928))
                ThreePointArc((1.303821399, -9.148703928), (1.496450048, -8.903135899), (1.683794586, -8.65351323))
            make_face()
            with BuildLine():
                ThreePointArc((3.521749436, -5.30713988), (2.861028333, -4.588201733), (2.081641936, -4))
                Line((2.081641936, -4), (1.305695063, -4))
                ThreePointArc((1.305695063, -4), (0.994195953, -4.797149927), (0.627094961, -5.57027124))
                ThreePointArc((0.627094961, -5.57027124), (1.93527598, -5.894040025), (3.282888305, -5.883801663))
                ThreePointArc((3.282888305, -5.883801663), (3.405395609, -5.596745198), (3.521749436, -5.30713988))
            make_face()
        extrude(amount=CUT_EXTRUDE1_DEPTH, mode=Mode.SUBTRACT)


solid = part.part
